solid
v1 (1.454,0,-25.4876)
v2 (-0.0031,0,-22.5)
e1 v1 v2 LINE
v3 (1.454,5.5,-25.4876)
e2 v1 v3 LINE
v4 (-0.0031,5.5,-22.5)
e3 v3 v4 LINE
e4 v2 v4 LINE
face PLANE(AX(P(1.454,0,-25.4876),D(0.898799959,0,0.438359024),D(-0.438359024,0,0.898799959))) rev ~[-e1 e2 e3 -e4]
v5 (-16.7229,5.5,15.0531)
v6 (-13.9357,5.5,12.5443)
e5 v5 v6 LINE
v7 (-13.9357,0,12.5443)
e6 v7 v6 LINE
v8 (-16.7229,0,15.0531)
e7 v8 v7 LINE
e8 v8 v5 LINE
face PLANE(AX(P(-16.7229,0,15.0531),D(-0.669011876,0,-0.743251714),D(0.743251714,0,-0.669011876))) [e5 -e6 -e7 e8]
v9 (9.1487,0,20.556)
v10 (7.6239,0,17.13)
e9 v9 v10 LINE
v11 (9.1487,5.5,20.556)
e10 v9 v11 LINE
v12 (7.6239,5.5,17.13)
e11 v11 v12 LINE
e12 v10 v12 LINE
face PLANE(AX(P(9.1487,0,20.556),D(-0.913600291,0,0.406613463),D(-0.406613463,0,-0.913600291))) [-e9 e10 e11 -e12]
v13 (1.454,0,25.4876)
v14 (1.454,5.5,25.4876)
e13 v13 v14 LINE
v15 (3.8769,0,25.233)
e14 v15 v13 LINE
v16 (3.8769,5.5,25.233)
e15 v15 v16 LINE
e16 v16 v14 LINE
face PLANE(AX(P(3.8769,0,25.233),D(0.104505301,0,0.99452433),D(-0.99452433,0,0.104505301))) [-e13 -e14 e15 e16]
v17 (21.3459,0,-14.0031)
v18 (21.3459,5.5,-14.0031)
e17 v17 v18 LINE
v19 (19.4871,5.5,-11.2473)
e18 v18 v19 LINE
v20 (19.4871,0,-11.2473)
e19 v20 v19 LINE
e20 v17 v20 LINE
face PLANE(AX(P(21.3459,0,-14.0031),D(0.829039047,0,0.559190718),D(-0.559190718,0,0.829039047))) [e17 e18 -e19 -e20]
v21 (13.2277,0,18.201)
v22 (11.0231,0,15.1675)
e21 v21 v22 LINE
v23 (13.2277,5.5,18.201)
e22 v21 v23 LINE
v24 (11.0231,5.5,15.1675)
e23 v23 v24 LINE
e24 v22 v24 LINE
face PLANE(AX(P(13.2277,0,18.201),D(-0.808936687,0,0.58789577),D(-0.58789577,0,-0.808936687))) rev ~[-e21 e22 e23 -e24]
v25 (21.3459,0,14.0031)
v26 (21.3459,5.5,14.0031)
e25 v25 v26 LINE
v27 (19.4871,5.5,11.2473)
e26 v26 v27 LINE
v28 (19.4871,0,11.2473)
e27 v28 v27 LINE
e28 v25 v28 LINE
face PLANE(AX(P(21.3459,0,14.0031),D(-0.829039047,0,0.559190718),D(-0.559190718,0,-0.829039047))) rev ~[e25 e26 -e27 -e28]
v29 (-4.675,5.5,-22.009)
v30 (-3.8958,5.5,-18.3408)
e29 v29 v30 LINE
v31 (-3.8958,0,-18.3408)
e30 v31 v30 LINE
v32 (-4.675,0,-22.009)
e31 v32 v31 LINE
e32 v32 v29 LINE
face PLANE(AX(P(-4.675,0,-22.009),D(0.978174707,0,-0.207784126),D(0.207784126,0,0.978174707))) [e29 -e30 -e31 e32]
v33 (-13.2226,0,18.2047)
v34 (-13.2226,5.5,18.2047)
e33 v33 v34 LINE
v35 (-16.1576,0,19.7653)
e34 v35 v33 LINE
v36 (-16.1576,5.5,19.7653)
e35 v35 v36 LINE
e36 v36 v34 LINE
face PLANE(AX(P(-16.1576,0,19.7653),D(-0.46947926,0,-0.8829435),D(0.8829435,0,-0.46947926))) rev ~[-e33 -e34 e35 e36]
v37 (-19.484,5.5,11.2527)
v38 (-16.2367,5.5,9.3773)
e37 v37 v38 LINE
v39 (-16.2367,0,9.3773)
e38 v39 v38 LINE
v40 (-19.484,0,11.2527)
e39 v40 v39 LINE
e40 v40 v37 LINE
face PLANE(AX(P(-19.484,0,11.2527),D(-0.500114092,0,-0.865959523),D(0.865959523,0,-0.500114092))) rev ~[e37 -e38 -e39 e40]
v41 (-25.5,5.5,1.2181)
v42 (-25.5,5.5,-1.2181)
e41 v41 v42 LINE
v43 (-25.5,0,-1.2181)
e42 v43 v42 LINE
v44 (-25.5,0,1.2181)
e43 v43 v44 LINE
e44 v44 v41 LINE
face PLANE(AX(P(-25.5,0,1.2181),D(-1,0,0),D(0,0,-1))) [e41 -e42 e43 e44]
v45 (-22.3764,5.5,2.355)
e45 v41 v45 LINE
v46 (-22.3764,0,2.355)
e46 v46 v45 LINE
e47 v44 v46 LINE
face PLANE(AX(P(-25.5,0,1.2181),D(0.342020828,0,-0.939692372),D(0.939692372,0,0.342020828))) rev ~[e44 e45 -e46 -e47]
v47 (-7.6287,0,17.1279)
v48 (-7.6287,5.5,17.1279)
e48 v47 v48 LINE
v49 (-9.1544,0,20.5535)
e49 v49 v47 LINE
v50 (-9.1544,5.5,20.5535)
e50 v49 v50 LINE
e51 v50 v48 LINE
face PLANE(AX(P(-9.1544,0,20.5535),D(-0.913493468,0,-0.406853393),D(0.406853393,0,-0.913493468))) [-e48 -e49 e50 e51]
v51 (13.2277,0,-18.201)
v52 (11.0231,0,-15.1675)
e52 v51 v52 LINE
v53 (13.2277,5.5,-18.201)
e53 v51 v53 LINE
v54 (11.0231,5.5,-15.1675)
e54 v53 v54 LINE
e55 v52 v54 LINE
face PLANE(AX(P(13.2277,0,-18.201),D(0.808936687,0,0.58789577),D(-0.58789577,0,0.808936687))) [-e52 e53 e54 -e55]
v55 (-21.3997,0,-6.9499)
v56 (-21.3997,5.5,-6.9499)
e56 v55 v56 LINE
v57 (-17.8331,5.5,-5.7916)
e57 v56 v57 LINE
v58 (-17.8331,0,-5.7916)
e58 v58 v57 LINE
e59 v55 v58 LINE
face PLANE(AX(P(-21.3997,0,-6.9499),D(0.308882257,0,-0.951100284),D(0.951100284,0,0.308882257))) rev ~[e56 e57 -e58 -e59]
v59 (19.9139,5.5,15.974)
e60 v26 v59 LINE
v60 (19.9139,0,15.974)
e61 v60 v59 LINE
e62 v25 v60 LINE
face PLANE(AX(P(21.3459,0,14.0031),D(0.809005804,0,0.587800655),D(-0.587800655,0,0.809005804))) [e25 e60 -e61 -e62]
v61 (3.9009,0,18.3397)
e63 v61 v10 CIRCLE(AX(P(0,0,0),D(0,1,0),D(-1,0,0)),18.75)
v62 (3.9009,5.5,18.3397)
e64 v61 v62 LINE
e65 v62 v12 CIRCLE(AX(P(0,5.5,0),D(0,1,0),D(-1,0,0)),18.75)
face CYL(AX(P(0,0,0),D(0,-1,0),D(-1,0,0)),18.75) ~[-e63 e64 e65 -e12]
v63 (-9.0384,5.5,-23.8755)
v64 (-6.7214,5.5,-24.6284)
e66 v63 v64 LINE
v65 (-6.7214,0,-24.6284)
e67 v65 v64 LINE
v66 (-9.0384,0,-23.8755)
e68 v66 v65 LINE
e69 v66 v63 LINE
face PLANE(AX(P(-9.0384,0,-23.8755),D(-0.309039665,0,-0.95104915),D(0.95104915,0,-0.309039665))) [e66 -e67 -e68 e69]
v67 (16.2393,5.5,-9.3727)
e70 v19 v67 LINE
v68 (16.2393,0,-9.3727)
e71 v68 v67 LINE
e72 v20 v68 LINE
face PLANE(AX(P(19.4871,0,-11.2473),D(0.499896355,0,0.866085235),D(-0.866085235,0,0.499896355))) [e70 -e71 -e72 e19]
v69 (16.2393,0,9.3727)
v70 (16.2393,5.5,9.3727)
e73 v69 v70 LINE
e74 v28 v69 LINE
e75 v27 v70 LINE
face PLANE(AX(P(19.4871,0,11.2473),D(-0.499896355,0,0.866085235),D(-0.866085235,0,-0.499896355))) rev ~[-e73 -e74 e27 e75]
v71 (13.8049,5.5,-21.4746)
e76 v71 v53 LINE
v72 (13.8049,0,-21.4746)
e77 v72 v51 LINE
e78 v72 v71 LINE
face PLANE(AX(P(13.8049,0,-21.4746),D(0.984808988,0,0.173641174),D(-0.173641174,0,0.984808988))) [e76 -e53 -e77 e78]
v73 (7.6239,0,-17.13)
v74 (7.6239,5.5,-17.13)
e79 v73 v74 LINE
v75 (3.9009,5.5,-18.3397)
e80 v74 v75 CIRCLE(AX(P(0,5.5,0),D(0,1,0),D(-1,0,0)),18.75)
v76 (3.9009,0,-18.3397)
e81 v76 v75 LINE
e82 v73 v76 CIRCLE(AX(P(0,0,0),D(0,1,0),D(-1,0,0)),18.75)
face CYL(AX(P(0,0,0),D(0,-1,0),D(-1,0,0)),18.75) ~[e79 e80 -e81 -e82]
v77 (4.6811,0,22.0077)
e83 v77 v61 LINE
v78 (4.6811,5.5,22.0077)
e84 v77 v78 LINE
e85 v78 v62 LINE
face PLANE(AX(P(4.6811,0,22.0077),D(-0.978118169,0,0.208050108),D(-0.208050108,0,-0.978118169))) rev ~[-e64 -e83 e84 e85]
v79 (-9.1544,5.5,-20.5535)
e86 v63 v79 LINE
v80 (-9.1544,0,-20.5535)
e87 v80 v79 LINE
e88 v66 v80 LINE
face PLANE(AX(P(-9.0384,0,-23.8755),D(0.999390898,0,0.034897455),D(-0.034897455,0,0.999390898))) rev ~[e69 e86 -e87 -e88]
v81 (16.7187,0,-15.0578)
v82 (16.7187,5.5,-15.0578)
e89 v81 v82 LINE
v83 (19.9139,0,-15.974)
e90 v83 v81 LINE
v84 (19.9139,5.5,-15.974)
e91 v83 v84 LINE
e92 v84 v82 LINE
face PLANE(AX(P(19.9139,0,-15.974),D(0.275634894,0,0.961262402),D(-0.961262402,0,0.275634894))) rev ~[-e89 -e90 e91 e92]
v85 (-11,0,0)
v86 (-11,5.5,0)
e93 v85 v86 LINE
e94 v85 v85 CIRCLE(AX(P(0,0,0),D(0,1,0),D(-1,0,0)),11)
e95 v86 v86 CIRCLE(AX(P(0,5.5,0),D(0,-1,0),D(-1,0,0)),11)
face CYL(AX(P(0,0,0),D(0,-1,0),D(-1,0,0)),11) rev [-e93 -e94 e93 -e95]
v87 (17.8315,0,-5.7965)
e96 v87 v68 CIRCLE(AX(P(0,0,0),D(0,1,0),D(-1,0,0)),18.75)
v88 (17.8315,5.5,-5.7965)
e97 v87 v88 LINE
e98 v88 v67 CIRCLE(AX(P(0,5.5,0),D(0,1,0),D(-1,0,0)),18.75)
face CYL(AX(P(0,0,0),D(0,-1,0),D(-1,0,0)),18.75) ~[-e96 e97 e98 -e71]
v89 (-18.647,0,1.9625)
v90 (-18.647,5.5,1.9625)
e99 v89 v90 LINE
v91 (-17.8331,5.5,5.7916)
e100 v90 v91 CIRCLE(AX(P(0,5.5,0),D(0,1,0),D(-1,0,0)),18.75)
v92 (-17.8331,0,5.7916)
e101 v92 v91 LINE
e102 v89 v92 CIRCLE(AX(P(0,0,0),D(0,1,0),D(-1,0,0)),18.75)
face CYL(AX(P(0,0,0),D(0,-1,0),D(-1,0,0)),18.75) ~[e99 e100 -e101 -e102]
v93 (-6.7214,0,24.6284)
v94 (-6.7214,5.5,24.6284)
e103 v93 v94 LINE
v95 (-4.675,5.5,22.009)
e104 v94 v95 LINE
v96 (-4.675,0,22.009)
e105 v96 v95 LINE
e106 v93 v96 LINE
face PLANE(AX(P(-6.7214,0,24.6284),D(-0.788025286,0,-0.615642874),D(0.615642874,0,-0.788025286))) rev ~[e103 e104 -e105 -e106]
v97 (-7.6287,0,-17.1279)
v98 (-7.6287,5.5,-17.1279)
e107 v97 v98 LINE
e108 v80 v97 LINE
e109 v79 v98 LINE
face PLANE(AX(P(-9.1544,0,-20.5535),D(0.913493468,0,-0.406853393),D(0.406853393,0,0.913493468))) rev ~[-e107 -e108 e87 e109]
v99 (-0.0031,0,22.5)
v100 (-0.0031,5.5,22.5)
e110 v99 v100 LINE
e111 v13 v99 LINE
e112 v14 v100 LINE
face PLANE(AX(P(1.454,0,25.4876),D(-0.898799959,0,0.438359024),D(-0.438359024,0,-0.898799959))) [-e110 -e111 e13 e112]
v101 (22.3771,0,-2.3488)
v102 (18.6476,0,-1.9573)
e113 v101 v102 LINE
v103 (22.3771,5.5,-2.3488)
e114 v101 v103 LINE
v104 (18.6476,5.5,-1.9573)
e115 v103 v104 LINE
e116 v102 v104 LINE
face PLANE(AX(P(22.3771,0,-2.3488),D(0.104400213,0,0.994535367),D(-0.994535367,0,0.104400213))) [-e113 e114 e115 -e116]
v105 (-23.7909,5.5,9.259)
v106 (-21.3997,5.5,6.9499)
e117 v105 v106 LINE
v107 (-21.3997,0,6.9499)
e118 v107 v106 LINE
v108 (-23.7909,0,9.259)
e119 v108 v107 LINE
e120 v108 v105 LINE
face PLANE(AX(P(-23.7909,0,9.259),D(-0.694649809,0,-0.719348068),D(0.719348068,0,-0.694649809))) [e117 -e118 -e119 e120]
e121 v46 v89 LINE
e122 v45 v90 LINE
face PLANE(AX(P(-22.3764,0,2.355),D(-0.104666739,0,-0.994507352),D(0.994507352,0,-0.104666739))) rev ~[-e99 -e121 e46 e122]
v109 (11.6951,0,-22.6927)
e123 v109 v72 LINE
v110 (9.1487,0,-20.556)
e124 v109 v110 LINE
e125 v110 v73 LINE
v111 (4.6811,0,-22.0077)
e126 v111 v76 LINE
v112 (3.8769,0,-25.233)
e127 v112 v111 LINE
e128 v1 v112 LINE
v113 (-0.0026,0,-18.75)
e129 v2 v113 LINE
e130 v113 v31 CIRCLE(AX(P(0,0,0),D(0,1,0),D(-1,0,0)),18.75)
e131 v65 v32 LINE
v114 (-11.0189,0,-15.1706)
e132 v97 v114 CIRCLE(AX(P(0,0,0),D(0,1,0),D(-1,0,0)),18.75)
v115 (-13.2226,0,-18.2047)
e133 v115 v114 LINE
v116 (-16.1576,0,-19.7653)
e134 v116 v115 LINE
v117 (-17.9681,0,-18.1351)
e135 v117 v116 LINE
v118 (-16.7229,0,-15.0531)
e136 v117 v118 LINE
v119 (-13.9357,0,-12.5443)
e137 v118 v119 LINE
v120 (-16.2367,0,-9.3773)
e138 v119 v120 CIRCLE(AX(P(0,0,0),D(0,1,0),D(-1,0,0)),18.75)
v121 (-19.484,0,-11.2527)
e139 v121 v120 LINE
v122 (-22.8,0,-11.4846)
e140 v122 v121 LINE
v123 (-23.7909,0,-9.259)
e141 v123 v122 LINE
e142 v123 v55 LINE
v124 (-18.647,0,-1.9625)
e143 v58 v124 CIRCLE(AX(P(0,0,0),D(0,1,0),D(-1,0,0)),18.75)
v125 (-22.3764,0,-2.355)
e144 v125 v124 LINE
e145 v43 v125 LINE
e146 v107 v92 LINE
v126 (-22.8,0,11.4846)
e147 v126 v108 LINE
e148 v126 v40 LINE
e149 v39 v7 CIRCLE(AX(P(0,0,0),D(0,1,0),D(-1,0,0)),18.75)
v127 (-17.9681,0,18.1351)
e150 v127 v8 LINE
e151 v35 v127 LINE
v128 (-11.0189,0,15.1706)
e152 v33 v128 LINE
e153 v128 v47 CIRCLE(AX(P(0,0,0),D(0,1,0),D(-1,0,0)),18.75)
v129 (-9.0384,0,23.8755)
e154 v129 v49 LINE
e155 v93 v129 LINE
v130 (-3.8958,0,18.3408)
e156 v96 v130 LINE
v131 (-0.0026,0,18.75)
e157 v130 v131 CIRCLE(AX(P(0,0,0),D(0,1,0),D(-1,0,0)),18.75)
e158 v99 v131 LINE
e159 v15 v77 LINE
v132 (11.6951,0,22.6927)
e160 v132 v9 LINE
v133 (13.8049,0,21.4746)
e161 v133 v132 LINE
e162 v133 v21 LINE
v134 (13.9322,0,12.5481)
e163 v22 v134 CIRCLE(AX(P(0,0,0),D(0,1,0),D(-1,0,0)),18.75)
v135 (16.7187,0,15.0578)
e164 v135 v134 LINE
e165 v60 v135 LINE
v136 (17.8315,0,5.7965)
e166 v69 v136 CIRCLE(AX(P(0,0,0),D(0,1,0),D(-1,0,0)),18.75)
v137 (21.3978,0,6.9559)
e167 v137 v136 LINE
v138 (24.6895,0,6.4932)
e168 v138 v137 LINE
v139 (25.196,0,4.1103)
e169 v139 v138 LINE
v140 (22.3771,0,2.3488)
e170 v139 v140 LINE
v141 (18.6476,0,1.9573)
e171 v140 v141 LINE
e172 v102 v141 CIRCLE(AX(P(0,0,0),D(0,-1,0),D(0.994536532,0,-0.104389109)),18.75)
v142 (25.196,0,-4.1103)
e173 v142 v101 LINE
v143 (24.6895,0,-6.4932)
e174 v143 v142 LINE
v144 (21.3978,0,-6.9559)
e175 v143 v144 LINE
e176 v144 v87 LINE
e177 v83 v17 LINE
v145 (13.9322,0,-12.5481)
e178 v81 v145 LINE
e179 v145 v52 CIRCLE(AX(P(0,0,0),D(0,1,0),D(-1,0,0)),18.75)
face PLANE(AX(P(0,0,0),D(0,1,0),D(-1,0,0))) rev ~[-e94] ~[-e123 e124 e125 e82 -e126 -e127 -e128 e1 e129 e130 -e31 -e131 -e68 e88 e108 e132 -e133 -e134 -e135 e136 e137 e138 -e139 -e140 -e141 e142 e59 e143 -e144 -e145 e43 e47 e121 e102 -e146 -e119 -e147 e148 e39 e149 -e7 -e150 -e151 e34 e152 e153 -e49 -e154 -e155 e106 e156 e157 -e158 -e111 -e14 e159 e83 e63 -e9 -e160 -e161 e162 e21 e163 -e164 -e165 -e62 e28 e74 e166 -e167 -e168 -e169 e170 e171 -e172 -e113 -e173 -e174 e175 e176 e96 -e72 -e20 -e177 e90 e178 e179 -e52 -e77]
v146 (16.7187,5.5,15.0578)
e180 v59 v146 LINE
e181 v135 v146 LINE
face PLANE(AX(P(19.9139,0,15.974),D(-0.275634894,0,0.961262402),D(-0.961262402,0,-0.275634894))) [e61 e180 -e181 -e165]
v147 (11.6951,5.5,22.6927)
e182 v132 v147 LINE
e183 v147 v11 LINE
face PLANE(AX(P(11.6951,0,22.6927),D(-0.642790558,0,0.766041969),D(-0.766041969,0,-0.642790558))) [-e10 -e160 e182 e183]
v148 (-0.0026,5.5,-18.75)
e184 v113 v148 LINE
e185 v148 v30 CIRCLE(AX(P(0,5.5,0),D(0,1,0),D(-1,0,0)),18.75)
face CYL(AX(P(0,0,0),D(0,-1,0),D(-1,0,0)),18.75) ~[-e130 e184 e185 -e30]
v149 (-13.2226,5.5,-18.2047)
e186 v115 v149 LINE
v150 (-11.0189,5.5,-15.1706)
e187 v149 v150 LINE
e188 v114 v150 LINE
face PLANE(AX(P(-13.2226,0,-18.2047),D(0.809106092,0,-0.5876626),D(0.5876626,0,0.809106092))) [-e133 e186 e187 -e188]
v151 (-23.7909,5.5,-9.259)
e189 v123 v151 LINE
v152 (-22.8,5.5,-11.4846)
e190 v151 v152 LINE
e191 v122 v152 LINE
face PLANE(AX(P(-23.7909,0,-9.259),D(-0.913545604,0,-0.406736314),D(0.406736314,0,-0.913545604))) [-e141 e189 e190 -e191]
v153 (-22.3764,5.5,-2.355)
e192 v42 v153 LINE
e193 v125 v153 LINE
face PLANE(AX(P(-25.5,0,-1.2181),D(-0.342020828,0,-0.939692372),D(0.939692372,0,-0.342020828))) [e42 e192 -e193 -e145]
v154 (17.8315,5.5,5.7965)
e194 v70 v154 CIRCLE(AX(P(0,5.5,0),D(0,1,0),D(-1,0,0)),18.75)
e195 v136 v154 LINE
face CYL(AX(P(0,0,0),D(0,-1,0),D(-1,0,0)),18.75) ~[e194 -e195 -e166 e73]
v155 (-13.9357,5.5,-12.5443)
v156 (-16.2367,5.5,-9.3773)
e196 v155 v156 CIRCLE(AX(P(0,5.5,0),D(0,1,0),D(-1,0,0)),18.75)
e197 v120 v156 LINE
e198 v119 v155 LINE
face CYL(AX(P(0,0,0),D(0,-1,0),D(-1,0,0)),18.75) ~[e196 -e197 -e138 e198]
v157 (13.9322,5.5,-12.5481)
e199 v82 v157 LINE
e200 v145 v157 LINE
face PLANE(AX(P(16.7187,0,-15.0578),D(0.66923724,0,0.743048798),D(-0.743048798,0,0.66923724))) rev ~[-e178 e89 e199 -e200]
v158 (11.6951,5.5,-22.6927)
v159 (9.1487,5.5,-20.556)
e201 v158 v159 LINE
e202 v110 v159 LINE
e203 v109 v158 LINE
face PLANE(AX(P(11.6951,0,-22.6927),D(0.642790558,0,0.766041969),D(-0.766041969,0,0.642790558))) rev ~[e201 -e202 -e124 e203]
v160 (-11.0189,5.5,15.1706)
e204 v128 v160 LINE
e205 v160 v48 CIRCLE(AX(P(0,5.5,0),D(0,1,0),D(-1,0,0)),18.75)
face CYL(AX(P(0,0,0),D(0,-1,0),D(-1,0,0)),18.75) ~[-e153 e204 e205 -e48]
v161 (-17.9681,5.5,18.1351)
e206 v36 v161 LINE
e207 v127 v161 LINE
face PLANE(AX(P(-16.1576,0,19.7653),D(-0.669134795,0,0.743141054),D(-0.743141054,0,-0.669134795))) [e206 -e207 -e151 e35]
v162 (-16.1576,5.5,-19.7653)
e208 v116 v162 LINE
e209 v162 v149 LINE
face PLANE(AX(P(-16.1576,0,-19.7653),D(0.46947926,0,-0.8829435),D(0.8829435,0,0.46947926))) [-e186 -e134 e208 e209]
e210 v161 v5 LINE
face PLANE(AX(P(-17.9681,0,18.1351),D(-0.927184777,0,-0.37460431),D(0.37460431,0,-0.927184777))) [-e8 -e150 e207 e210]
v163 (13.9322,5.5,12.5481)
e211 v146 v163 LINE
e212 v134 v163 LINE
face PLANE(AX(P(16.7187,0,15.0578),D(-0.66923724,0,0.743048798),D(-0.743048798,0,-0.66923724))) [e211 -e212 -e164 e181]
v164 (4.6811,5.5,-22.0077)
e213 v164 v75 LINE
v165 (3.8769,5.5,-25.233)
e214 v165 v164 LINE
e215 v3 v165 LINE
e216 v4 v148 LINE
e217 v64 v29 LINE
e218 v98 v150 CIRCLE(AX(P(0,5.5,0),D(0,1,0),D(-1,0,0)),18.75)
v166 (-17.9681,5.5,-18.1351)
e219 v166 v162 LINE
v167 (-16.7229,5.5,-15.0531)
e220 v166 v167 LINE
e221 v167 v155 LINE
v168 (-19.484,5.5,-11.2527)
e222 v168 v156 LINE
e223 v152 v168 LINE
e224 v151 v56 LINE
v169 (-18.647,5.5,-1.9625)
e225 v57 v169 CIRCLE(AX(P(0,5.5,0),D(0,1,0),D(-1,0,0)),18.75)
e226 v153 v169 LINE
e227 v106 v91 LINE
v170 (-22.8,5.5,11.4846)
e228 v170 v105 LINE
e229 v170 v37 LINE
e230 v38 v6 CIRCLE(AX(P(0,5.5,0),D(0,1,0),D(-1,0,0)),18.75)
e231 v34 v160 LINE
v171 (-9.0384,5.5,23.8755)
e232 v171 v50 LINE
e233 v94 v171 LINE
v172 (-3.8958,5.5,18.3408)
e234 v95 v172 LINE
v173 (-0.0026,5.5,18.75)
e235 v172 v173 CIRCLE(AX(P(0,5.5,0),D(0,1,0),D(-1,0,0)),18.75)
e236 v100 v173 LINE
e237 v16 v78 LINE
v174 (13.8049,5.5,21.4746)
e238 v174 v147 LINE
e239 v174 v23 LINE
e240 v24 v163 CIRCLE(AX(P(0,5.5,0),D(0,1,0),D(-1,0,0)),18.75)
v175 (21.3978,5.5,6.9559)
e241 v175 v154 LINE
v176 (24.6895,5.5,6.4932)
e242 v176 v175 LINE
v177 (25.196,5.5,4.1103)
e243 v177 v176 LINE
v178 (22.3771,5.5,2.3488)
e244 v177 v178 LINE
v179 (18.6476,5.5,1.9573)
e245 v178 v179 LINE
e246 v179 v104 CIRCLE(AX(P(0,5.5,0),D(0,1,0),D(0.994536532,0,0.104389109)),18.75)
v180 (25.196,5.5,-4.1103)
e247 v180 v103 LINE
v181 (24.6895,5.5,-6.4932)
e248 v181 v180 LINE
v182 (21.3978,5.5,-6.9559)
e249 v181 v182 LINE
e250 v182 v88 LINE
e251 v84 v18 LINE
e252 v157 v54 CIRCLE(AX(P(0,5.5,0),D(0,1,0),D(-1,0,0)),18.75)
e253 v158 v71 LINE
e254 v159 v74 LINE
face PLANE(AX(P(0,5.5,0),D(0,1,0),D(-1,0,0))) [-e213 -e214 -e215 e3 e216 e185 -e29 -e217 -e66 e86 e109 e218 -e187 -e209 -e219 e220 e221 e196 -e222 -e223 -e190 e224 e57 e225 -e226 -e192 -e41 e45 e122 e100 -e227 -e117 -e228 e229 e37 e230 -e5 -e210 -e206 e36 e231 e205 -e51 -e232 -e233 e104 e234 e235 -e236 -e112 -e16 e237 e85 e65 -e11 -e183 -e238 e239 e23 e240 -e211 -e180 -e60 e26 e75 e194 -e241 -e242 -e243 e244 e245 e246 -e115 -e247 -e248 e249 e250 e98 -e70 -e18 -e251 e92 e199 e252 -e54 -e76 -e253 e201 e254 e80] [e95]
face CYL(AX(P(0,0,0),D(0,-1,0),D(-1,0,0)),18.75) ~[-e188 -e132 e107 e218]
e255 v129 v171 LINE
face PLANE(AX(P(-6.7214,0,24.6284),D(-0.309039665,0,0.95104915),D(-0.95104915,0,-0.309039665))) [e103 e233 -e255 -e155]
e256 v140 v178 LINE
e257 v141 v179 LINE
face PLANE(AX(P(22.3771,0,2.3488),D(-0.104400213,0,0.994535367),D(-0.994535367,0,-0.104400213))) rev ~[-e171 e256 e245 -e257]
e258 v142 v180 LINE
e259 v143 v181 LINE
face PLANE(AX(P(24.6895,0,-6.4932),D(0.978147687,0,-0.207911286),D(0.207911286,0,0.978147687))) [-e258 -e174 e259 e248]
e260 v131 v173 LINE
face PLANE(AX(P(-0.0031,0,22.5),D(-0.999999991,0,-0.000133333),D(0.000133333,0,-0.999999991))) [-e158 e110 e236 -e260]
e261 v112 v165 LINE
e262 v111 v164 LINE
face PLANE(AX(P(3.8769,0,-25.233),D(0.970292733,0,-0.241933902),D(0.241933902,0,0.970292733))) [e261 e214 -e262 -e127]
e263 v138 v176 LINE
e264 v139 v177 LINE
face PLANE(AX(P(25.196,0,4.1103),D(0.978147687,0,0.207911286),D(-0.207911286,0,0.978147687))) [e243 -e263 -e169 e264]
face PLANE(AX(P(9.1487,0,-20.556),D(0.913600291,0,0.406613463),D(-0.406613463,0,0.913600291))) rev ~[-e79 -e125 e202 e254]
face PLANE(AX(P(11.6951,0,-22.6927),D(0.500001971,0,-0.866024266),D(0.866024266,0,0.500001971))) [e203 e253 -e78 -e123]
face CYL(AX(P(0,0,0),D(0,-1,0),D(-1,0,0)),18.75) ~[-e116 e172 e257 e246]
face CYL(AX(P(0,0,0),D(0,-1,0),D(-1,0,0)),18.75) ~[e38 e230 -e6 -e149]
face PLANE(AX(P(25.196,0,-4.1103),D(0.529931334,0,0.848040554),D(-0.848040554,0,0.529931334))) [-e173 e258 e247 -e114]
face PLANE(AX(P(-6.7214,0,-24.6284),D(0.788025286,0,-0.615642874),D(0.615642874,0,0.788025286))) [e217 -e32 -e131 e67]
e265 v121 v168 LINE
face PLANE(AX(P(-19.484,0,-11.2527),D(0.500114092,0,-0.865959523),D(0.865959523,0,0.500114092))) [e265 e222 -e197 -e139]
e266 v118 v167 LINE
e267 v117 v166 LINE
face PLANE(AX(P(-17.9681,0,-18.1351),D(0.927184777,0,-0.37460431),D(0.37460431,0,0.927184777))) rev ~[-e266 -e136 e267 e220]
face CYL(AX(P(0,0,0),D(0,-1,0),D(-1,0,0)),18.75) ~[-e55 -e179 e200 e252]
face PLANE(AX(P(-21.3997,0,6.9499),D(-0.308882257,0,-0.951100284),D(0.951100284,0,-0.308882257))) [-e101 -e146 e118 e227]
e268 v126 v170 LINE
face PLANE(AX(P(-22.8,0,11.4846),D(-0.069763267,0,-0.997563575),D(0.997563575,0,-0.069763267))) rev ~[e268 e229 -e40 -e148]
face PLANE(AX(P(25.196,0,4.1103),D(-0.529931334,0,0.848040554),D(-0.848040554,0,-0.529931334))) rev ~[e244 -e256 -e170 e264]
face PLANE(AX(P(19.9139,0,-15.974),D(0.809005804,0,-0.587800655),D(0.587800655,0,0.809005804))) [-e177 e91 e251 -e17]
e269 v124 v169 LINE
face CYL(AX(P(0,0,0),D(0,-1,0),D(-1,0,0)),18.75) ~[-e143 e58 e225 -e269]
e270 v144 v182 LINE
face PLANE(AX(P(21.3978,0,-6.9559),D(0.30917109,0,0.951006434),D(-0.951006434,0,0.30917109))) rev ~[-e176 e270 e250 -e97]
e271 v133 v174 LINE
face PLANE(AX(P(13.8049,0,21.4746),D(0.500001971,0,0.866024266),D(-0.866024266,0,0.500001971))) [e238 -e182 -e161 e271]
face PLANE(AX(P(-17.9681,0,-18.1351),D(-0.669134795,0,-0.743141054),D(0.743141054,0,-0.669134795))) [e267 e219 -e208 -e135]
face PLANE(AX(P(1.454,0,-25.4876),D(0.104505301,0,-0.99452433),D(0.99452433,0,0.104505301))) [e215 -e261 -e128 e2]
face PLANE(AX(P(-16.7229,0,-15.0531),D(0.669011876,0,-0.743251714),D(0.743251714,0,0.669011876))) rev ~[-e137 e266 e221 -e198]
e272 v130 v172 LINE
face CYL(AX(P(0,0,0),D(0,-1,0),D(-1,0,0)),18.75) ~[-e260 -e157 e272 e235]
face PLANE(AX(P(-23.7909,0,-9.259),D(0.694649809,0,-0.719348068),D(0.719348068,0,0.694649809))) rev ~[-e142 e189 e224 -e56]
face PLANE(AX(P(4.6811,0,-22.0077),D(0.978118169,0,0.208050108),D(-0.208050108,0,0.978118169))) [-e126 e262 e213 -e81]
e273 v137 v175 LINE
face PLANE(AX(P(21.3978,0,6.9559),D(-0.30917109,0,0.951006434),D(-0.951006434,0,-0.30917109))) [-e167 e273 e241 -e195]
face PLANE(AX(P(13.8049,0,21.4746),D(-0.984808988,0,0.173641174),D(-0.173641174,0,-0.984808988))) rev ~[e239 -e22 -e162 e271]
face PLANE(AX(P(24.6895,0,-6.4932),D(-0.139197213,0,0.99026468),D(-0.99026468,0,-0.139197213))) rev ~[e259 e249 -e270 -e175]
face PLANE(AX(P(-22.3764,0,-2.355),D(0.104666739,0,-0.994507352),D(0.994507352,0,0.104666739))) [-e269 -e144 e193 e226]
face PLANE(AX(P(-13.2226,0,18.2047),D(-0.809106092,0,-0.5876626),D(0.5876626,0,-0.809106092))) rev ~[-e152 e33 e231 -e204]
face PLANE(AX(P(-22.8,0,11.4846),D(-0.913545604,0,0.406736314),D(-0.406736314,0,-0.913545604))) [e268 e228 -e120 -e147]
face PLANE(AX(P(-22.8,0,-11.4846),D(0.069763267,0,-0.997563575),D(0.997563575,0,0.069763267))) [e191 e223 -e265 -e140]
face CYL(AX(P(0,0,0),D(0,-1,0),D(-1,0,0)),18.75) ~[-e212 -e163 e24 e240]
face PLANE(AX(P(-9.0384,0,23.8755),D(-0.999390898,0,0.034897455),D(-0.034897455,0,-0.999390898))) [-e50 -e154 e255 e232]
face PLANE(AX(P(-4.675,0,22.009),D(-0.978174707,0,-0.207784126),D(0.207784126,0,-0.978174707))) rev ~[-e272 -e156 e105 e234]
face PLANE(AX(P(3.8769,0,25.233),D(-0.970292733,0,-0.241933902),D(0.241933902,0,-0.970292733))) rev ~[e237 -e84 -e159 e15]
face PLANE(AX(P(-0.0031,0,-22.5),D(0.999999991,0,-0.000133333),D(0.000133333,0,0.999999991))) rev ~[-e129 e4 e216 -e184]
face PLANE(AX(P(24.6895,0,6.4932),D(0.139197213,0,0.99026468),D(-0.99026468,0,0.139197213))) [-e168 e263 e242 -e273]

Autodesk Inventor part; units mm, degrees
ref_plane "YZ Plane" through (0, 0, 0) normal (1, 0, 0) x (0, 1, 0)
ref_plane "XZ Plane" through (0, 0, 0) normal (0, 1, 0) x (-1, 0, 0)
ref_plane "XY Plane" through (0, 0, 0) normal (0, 0, 1) x (1, 0, 0)
sketch "スケッチ1" plane through (0, 0, 0) normal (0, 1, 0) x (-1, 0, 0)
  circle A0 centre (0, 0) radius 22.5 construction
  circle A1 centre (0, 0) radius 25.5 construction
  line L0 (25.5, 1.2181) -> (25.5, -1.2181)
  line L1 (25.5, 1.2181) -> (22.3764, 2.355)
  line L2 (25.5, -1.2181) -> (22.3764, -2.355)
  line L3 (35.7, 0) -> (-35.7, 0) projected
  circle A2 centre (0, 0) radius 18.75
  line L4 (22.3764, -2.355) -> (18.647, -1.9625)
  line L5 (22.3764, 2.355) -> (18.647, 1.9625)
  line L6 (19.484, 11.2527) -> (16.2367, 9.3773)
  line L7 (22.8, 11.4846) -> (19.484, 11.2527)
  line L8 (22.8, 11.4846) -> (23.7909, 9.259)
  line L9 (23.7909, 9.259) -> (21.3997, 6.9499)
  line L10 (21.3997, 6.9499) -> (17.8331, 5.7916)
  line L11 (13.2226, 18.2047) -> (11.0189, 15.1706)
  line L12 (16.1576, 19.7653) -> (13.2226, 18.2047)
  line L13 (16.1576, 19.7653) -> (17.9681, 18.1351)
  line L14 (17.9681, 18.1351) -> (16.7229, 15.0531)
  line L15 (16.7229, 15.0531) -> (13.9357, 12.5443)
  line L16 (4.675, 22.009) -> (3.8958, 18.3408)
  line L17 (6.7214, 24.6284) -> (4.675, 22.009)
  line L18 (6.7214, 24.6284) -> (9.0384, 23.8755)
  line L19 (9.0384, 23.8755) -> (9.1544, 20.5535)
  line L20 (9.1544, 20.5535) -> (7.6287, 17.1279)
  line L21 (-4.6811, 22.0077) -> (-3.9009, 18.3397)
  line L22 (-3.8769, 25.233) -> (-4.6811, 22.0077)
  line L23 (-3.8769, 25.233) -> (-1.454, 25.4876)
  line L24 (-1.454, 25.4876) -> (0.0031, 22.5)
  line L25 (0.0031, 22.5) -> (0.0026, 18.75)
  line L26 (-13.2277, 18.201) -> (-11.0231, 15.1675)
  line L27 (-13.8049, 21.4746) -> (-13.2277, 18.201)
  line L28 (-13.8049, 21.4746) -> (-11.6951, 22.6927)
  line L29 (-11.6951, 22.6927) -> (-9.1487, 20.556)
  line L30 (-9.1487, 20.556) -> (-7.6239, 17.13)
  line L31 (-19.4871, 11.2473) -> (-16.2393, 9.3727)
  line L32 (-21.3459, 14.0031) -> (-19.4871, 11.2473)
  line L33 (-21.3459, 14.0031) -> (-19.9139, 15.974)
  line L34 (-19.9139, 15.974) -> (-16.7187, 15.0578)
  line L35 (-16.7187, 15.0578) -> (-13.9322, 12.5481)
  line L36 (-22.3771, 2.3488) -> (-18.6476, 1.9573)
  line L37 (-25.196, 4.1103) -> (-22.3771, 2.3488)
  line L38 (-25.196, 4.1103) -> (-24.6895, 6.4932)
  line L39 (-24.6895, 6.4932) -> (-21.3978, 6.9559)
  line L40 (-21.3978, 6.9559) -> (-17.8315, 5.7965)
  line L41 (-21.3978, -6.9559) -> (-17.8315, -5.7965)
  line L42 (-24.6895, -6.4932) -> (-21.3978, -6.9559)
  line L43 (-24.6895, -6.4932) -> (-25.196, -4.1103)
  line L44 (-25.196, -4.1103) -> (-22.3771, -2.3488)
  line L45 (-22.3771, -2.3488) -> (-18.6476, -1.9573)
  line L46 (-16.7187, -15.0578) -> (-13.9322, -12.5481)
  line L47 (-19.9139, -15.974) -> (-16.7187, -15.0578)
  line L48 (-19.9139, -15.974) -> (-21.3459, -14.0031)
  line L49 (-21.3459, -14.0031) -> (-19.4871, -11.2473)
  line L50 (-19.4871, -11.2473) -> (-16.2393, -9.3727)
  line L51 (-9.1487, -20.556) -> (-7.6239, -17.13)
  line L52 (-11.6951, -22.6927) -> (-9.1487, -20.556)
  line L53 (-11.6951, -22.6927) -> (-13.8049, -21.4746)
  line L54 (-13.8049, -21.4746) -> (-13.2277, -18.201)
  line L55 (-13.2277, -18.201) -> (-11.0231, -15.1675)
  line L56 (0.0031, -22.5) -> (0.0026, -18.75)
  line L57 (-1.454, -25.4876) -> (0.0031, -22.5)
  line L58 (-1.454, -25.4876) -> (-3.8769, -25.233)
  line L59 (-3.8769, -25.233) -> (-4.6811, -22.0077)
  line L60 (-4.6811, -22.0077) -> (-3.9009, -18.3397)
  line L61 (9.1544, -20.5535) -> (7.6287, -17.1279)
  line L62 (9.0384, -23.8755) -> (9.1544, -20.5535)
  line L63 (9.0384, -23.8755) -> (6.7214, -24.6284)
  line L64 (6.7214, -24.6284) -> (4.675, -22.009)
  line L65 (4.675, -22.009) -> (3.8958, -18.3408)
  line L66 (16.7229, -15.0531) -> (13.9357, -12.5443)
  line L67 (17.9681, -18.1351) -> (16.7229, -15.0531)
  line L68 (17.9681, -18.1351) -> (16.1576, -19.7653)
  line L69 (16.1576, -19.7653) -> (13.2226, -18.2047)
  line L70 (13.2226, -18.2047) -> (11.0189, -15.1706)
  line L71 (21.3997, -6.9499) -> (17.8331, -5.7916)
  line L72 (23.7909, -9.259) -> (21.3997, -6.9499)
  line L73 (23.7909, -9.259) -> (22.8, -11.4846)
  line L74 (22.8, -11.4846) -> (19.484, -11.2527)
  line L75 (19.484, -11.2527) -> (16.2367, -9.3773)
  circle A3 centre (0, 0) radius 11
  point P0 (25.5, 0)
  point P1 (23.2954, 10.3718)
  point P2 (17.0628, 18.9502)
  point P3 (7.8799, 24.2519)
  point P4 (-2.6655, 25.3603)
  point P5 (-12.75, 22.0836)
  point P6 (-20.6299, 14.9885)
  point P7 (-24.9428, 5.3017)
  point P8 (-24.9428, -5.3017)
  point P9 (-20.6299, -14.9885)
  point P10 (-12.75, -22.0836)
  point P11 (-2.6655, -25.3603)
  point P12 (7.8799, -24.2519)
  point P13 (17.0628, -18.9502)
  point P14 (23.2954, -10.3718)
  point P15 (17.8331, 5.7916)
  point P16 (16.2367, 9.3773)
  point P17 (13.9357, 12.5443)
  point P18 (11.0189, 15.1706)
  point P19 (7.6287, 17.1279)
  point P20 (3.8958, 18.3408)
  point P21 (0.0026, 18.75)
  point P22 (-3.9009, 18.3397)
  point P23 (-7.6239, 17.13)
  point P24 (-11.0231, 15.1675)
  point P25 (-13.9322, 12.5481)
  point P26 (-16.2393, 9.3727)
  point P27 (-17.8315, 5.7965)
  point P28 (-18.6476, 1.9573)
  point P29 (-18.6476, -1.9573)
  point P30 (-17.8315, -5.7965)
  point P31 (-16.2393, -9.3727)
  point P32 (-13.9322, -12.5481)
  point P33 (-11.0231, -15.1675)
  point P34 (-7.6239, -17.13)
  point P35 (-3.9009, -18.3397)
  point P36 (0.0026, -18.75)
  point P37 (3.8958, -18.3408)
  point P38 (7.6287, -17.1279)
  point P39 (11.0189, -15.1706)
  point P40 (13.9357, -12.5443)
  point P41 (16.2367, -9.3773)
  point P42 (17.8331, -5.7916)
  dimension "d5" = 37.5
  dimension "d0" = 45
  dimension "d1" = 51
  dimension "d3" = 20
  dimension "d4" = 20
  dimension "d14" = 4.71
  dimension "d18" = 360
  dimension "d23" = 22
extrude "押し出し1" add sketch "スケッチ1" along normal blind 5.5 contours L0 L3 A2 L5 L1 | L0 L2 L4 A2 L3 | A2 L3 A3 | L3 A3 A2 | A2 L6 L7 L8 L9 L10 | L71 L72 L73 L74 L75 A2 | A2 L11 L12 L13 L14 L15 | L36 L37 L38 L39 L40 A2 | A2 L41 L42 L43 L44 L45 | L66 L67 L68 L69 L70 A2 | A2 L16 L17 L18 L19 L20 | L31 L32 L33 L34 L35 A2 | A2 L46 L47 L48 L49 L50 | L61 L62 L63 L64 L65 A2 | A2 L21 L22 L23 L24 L25 | L26 L27 L28 L29 L30 A2 | A2 L51 L52 L53 L54 L55 | L56 L57 L58 L59 L60 A2
properties part number "M3_15" material "木材 (カエデ材)"
